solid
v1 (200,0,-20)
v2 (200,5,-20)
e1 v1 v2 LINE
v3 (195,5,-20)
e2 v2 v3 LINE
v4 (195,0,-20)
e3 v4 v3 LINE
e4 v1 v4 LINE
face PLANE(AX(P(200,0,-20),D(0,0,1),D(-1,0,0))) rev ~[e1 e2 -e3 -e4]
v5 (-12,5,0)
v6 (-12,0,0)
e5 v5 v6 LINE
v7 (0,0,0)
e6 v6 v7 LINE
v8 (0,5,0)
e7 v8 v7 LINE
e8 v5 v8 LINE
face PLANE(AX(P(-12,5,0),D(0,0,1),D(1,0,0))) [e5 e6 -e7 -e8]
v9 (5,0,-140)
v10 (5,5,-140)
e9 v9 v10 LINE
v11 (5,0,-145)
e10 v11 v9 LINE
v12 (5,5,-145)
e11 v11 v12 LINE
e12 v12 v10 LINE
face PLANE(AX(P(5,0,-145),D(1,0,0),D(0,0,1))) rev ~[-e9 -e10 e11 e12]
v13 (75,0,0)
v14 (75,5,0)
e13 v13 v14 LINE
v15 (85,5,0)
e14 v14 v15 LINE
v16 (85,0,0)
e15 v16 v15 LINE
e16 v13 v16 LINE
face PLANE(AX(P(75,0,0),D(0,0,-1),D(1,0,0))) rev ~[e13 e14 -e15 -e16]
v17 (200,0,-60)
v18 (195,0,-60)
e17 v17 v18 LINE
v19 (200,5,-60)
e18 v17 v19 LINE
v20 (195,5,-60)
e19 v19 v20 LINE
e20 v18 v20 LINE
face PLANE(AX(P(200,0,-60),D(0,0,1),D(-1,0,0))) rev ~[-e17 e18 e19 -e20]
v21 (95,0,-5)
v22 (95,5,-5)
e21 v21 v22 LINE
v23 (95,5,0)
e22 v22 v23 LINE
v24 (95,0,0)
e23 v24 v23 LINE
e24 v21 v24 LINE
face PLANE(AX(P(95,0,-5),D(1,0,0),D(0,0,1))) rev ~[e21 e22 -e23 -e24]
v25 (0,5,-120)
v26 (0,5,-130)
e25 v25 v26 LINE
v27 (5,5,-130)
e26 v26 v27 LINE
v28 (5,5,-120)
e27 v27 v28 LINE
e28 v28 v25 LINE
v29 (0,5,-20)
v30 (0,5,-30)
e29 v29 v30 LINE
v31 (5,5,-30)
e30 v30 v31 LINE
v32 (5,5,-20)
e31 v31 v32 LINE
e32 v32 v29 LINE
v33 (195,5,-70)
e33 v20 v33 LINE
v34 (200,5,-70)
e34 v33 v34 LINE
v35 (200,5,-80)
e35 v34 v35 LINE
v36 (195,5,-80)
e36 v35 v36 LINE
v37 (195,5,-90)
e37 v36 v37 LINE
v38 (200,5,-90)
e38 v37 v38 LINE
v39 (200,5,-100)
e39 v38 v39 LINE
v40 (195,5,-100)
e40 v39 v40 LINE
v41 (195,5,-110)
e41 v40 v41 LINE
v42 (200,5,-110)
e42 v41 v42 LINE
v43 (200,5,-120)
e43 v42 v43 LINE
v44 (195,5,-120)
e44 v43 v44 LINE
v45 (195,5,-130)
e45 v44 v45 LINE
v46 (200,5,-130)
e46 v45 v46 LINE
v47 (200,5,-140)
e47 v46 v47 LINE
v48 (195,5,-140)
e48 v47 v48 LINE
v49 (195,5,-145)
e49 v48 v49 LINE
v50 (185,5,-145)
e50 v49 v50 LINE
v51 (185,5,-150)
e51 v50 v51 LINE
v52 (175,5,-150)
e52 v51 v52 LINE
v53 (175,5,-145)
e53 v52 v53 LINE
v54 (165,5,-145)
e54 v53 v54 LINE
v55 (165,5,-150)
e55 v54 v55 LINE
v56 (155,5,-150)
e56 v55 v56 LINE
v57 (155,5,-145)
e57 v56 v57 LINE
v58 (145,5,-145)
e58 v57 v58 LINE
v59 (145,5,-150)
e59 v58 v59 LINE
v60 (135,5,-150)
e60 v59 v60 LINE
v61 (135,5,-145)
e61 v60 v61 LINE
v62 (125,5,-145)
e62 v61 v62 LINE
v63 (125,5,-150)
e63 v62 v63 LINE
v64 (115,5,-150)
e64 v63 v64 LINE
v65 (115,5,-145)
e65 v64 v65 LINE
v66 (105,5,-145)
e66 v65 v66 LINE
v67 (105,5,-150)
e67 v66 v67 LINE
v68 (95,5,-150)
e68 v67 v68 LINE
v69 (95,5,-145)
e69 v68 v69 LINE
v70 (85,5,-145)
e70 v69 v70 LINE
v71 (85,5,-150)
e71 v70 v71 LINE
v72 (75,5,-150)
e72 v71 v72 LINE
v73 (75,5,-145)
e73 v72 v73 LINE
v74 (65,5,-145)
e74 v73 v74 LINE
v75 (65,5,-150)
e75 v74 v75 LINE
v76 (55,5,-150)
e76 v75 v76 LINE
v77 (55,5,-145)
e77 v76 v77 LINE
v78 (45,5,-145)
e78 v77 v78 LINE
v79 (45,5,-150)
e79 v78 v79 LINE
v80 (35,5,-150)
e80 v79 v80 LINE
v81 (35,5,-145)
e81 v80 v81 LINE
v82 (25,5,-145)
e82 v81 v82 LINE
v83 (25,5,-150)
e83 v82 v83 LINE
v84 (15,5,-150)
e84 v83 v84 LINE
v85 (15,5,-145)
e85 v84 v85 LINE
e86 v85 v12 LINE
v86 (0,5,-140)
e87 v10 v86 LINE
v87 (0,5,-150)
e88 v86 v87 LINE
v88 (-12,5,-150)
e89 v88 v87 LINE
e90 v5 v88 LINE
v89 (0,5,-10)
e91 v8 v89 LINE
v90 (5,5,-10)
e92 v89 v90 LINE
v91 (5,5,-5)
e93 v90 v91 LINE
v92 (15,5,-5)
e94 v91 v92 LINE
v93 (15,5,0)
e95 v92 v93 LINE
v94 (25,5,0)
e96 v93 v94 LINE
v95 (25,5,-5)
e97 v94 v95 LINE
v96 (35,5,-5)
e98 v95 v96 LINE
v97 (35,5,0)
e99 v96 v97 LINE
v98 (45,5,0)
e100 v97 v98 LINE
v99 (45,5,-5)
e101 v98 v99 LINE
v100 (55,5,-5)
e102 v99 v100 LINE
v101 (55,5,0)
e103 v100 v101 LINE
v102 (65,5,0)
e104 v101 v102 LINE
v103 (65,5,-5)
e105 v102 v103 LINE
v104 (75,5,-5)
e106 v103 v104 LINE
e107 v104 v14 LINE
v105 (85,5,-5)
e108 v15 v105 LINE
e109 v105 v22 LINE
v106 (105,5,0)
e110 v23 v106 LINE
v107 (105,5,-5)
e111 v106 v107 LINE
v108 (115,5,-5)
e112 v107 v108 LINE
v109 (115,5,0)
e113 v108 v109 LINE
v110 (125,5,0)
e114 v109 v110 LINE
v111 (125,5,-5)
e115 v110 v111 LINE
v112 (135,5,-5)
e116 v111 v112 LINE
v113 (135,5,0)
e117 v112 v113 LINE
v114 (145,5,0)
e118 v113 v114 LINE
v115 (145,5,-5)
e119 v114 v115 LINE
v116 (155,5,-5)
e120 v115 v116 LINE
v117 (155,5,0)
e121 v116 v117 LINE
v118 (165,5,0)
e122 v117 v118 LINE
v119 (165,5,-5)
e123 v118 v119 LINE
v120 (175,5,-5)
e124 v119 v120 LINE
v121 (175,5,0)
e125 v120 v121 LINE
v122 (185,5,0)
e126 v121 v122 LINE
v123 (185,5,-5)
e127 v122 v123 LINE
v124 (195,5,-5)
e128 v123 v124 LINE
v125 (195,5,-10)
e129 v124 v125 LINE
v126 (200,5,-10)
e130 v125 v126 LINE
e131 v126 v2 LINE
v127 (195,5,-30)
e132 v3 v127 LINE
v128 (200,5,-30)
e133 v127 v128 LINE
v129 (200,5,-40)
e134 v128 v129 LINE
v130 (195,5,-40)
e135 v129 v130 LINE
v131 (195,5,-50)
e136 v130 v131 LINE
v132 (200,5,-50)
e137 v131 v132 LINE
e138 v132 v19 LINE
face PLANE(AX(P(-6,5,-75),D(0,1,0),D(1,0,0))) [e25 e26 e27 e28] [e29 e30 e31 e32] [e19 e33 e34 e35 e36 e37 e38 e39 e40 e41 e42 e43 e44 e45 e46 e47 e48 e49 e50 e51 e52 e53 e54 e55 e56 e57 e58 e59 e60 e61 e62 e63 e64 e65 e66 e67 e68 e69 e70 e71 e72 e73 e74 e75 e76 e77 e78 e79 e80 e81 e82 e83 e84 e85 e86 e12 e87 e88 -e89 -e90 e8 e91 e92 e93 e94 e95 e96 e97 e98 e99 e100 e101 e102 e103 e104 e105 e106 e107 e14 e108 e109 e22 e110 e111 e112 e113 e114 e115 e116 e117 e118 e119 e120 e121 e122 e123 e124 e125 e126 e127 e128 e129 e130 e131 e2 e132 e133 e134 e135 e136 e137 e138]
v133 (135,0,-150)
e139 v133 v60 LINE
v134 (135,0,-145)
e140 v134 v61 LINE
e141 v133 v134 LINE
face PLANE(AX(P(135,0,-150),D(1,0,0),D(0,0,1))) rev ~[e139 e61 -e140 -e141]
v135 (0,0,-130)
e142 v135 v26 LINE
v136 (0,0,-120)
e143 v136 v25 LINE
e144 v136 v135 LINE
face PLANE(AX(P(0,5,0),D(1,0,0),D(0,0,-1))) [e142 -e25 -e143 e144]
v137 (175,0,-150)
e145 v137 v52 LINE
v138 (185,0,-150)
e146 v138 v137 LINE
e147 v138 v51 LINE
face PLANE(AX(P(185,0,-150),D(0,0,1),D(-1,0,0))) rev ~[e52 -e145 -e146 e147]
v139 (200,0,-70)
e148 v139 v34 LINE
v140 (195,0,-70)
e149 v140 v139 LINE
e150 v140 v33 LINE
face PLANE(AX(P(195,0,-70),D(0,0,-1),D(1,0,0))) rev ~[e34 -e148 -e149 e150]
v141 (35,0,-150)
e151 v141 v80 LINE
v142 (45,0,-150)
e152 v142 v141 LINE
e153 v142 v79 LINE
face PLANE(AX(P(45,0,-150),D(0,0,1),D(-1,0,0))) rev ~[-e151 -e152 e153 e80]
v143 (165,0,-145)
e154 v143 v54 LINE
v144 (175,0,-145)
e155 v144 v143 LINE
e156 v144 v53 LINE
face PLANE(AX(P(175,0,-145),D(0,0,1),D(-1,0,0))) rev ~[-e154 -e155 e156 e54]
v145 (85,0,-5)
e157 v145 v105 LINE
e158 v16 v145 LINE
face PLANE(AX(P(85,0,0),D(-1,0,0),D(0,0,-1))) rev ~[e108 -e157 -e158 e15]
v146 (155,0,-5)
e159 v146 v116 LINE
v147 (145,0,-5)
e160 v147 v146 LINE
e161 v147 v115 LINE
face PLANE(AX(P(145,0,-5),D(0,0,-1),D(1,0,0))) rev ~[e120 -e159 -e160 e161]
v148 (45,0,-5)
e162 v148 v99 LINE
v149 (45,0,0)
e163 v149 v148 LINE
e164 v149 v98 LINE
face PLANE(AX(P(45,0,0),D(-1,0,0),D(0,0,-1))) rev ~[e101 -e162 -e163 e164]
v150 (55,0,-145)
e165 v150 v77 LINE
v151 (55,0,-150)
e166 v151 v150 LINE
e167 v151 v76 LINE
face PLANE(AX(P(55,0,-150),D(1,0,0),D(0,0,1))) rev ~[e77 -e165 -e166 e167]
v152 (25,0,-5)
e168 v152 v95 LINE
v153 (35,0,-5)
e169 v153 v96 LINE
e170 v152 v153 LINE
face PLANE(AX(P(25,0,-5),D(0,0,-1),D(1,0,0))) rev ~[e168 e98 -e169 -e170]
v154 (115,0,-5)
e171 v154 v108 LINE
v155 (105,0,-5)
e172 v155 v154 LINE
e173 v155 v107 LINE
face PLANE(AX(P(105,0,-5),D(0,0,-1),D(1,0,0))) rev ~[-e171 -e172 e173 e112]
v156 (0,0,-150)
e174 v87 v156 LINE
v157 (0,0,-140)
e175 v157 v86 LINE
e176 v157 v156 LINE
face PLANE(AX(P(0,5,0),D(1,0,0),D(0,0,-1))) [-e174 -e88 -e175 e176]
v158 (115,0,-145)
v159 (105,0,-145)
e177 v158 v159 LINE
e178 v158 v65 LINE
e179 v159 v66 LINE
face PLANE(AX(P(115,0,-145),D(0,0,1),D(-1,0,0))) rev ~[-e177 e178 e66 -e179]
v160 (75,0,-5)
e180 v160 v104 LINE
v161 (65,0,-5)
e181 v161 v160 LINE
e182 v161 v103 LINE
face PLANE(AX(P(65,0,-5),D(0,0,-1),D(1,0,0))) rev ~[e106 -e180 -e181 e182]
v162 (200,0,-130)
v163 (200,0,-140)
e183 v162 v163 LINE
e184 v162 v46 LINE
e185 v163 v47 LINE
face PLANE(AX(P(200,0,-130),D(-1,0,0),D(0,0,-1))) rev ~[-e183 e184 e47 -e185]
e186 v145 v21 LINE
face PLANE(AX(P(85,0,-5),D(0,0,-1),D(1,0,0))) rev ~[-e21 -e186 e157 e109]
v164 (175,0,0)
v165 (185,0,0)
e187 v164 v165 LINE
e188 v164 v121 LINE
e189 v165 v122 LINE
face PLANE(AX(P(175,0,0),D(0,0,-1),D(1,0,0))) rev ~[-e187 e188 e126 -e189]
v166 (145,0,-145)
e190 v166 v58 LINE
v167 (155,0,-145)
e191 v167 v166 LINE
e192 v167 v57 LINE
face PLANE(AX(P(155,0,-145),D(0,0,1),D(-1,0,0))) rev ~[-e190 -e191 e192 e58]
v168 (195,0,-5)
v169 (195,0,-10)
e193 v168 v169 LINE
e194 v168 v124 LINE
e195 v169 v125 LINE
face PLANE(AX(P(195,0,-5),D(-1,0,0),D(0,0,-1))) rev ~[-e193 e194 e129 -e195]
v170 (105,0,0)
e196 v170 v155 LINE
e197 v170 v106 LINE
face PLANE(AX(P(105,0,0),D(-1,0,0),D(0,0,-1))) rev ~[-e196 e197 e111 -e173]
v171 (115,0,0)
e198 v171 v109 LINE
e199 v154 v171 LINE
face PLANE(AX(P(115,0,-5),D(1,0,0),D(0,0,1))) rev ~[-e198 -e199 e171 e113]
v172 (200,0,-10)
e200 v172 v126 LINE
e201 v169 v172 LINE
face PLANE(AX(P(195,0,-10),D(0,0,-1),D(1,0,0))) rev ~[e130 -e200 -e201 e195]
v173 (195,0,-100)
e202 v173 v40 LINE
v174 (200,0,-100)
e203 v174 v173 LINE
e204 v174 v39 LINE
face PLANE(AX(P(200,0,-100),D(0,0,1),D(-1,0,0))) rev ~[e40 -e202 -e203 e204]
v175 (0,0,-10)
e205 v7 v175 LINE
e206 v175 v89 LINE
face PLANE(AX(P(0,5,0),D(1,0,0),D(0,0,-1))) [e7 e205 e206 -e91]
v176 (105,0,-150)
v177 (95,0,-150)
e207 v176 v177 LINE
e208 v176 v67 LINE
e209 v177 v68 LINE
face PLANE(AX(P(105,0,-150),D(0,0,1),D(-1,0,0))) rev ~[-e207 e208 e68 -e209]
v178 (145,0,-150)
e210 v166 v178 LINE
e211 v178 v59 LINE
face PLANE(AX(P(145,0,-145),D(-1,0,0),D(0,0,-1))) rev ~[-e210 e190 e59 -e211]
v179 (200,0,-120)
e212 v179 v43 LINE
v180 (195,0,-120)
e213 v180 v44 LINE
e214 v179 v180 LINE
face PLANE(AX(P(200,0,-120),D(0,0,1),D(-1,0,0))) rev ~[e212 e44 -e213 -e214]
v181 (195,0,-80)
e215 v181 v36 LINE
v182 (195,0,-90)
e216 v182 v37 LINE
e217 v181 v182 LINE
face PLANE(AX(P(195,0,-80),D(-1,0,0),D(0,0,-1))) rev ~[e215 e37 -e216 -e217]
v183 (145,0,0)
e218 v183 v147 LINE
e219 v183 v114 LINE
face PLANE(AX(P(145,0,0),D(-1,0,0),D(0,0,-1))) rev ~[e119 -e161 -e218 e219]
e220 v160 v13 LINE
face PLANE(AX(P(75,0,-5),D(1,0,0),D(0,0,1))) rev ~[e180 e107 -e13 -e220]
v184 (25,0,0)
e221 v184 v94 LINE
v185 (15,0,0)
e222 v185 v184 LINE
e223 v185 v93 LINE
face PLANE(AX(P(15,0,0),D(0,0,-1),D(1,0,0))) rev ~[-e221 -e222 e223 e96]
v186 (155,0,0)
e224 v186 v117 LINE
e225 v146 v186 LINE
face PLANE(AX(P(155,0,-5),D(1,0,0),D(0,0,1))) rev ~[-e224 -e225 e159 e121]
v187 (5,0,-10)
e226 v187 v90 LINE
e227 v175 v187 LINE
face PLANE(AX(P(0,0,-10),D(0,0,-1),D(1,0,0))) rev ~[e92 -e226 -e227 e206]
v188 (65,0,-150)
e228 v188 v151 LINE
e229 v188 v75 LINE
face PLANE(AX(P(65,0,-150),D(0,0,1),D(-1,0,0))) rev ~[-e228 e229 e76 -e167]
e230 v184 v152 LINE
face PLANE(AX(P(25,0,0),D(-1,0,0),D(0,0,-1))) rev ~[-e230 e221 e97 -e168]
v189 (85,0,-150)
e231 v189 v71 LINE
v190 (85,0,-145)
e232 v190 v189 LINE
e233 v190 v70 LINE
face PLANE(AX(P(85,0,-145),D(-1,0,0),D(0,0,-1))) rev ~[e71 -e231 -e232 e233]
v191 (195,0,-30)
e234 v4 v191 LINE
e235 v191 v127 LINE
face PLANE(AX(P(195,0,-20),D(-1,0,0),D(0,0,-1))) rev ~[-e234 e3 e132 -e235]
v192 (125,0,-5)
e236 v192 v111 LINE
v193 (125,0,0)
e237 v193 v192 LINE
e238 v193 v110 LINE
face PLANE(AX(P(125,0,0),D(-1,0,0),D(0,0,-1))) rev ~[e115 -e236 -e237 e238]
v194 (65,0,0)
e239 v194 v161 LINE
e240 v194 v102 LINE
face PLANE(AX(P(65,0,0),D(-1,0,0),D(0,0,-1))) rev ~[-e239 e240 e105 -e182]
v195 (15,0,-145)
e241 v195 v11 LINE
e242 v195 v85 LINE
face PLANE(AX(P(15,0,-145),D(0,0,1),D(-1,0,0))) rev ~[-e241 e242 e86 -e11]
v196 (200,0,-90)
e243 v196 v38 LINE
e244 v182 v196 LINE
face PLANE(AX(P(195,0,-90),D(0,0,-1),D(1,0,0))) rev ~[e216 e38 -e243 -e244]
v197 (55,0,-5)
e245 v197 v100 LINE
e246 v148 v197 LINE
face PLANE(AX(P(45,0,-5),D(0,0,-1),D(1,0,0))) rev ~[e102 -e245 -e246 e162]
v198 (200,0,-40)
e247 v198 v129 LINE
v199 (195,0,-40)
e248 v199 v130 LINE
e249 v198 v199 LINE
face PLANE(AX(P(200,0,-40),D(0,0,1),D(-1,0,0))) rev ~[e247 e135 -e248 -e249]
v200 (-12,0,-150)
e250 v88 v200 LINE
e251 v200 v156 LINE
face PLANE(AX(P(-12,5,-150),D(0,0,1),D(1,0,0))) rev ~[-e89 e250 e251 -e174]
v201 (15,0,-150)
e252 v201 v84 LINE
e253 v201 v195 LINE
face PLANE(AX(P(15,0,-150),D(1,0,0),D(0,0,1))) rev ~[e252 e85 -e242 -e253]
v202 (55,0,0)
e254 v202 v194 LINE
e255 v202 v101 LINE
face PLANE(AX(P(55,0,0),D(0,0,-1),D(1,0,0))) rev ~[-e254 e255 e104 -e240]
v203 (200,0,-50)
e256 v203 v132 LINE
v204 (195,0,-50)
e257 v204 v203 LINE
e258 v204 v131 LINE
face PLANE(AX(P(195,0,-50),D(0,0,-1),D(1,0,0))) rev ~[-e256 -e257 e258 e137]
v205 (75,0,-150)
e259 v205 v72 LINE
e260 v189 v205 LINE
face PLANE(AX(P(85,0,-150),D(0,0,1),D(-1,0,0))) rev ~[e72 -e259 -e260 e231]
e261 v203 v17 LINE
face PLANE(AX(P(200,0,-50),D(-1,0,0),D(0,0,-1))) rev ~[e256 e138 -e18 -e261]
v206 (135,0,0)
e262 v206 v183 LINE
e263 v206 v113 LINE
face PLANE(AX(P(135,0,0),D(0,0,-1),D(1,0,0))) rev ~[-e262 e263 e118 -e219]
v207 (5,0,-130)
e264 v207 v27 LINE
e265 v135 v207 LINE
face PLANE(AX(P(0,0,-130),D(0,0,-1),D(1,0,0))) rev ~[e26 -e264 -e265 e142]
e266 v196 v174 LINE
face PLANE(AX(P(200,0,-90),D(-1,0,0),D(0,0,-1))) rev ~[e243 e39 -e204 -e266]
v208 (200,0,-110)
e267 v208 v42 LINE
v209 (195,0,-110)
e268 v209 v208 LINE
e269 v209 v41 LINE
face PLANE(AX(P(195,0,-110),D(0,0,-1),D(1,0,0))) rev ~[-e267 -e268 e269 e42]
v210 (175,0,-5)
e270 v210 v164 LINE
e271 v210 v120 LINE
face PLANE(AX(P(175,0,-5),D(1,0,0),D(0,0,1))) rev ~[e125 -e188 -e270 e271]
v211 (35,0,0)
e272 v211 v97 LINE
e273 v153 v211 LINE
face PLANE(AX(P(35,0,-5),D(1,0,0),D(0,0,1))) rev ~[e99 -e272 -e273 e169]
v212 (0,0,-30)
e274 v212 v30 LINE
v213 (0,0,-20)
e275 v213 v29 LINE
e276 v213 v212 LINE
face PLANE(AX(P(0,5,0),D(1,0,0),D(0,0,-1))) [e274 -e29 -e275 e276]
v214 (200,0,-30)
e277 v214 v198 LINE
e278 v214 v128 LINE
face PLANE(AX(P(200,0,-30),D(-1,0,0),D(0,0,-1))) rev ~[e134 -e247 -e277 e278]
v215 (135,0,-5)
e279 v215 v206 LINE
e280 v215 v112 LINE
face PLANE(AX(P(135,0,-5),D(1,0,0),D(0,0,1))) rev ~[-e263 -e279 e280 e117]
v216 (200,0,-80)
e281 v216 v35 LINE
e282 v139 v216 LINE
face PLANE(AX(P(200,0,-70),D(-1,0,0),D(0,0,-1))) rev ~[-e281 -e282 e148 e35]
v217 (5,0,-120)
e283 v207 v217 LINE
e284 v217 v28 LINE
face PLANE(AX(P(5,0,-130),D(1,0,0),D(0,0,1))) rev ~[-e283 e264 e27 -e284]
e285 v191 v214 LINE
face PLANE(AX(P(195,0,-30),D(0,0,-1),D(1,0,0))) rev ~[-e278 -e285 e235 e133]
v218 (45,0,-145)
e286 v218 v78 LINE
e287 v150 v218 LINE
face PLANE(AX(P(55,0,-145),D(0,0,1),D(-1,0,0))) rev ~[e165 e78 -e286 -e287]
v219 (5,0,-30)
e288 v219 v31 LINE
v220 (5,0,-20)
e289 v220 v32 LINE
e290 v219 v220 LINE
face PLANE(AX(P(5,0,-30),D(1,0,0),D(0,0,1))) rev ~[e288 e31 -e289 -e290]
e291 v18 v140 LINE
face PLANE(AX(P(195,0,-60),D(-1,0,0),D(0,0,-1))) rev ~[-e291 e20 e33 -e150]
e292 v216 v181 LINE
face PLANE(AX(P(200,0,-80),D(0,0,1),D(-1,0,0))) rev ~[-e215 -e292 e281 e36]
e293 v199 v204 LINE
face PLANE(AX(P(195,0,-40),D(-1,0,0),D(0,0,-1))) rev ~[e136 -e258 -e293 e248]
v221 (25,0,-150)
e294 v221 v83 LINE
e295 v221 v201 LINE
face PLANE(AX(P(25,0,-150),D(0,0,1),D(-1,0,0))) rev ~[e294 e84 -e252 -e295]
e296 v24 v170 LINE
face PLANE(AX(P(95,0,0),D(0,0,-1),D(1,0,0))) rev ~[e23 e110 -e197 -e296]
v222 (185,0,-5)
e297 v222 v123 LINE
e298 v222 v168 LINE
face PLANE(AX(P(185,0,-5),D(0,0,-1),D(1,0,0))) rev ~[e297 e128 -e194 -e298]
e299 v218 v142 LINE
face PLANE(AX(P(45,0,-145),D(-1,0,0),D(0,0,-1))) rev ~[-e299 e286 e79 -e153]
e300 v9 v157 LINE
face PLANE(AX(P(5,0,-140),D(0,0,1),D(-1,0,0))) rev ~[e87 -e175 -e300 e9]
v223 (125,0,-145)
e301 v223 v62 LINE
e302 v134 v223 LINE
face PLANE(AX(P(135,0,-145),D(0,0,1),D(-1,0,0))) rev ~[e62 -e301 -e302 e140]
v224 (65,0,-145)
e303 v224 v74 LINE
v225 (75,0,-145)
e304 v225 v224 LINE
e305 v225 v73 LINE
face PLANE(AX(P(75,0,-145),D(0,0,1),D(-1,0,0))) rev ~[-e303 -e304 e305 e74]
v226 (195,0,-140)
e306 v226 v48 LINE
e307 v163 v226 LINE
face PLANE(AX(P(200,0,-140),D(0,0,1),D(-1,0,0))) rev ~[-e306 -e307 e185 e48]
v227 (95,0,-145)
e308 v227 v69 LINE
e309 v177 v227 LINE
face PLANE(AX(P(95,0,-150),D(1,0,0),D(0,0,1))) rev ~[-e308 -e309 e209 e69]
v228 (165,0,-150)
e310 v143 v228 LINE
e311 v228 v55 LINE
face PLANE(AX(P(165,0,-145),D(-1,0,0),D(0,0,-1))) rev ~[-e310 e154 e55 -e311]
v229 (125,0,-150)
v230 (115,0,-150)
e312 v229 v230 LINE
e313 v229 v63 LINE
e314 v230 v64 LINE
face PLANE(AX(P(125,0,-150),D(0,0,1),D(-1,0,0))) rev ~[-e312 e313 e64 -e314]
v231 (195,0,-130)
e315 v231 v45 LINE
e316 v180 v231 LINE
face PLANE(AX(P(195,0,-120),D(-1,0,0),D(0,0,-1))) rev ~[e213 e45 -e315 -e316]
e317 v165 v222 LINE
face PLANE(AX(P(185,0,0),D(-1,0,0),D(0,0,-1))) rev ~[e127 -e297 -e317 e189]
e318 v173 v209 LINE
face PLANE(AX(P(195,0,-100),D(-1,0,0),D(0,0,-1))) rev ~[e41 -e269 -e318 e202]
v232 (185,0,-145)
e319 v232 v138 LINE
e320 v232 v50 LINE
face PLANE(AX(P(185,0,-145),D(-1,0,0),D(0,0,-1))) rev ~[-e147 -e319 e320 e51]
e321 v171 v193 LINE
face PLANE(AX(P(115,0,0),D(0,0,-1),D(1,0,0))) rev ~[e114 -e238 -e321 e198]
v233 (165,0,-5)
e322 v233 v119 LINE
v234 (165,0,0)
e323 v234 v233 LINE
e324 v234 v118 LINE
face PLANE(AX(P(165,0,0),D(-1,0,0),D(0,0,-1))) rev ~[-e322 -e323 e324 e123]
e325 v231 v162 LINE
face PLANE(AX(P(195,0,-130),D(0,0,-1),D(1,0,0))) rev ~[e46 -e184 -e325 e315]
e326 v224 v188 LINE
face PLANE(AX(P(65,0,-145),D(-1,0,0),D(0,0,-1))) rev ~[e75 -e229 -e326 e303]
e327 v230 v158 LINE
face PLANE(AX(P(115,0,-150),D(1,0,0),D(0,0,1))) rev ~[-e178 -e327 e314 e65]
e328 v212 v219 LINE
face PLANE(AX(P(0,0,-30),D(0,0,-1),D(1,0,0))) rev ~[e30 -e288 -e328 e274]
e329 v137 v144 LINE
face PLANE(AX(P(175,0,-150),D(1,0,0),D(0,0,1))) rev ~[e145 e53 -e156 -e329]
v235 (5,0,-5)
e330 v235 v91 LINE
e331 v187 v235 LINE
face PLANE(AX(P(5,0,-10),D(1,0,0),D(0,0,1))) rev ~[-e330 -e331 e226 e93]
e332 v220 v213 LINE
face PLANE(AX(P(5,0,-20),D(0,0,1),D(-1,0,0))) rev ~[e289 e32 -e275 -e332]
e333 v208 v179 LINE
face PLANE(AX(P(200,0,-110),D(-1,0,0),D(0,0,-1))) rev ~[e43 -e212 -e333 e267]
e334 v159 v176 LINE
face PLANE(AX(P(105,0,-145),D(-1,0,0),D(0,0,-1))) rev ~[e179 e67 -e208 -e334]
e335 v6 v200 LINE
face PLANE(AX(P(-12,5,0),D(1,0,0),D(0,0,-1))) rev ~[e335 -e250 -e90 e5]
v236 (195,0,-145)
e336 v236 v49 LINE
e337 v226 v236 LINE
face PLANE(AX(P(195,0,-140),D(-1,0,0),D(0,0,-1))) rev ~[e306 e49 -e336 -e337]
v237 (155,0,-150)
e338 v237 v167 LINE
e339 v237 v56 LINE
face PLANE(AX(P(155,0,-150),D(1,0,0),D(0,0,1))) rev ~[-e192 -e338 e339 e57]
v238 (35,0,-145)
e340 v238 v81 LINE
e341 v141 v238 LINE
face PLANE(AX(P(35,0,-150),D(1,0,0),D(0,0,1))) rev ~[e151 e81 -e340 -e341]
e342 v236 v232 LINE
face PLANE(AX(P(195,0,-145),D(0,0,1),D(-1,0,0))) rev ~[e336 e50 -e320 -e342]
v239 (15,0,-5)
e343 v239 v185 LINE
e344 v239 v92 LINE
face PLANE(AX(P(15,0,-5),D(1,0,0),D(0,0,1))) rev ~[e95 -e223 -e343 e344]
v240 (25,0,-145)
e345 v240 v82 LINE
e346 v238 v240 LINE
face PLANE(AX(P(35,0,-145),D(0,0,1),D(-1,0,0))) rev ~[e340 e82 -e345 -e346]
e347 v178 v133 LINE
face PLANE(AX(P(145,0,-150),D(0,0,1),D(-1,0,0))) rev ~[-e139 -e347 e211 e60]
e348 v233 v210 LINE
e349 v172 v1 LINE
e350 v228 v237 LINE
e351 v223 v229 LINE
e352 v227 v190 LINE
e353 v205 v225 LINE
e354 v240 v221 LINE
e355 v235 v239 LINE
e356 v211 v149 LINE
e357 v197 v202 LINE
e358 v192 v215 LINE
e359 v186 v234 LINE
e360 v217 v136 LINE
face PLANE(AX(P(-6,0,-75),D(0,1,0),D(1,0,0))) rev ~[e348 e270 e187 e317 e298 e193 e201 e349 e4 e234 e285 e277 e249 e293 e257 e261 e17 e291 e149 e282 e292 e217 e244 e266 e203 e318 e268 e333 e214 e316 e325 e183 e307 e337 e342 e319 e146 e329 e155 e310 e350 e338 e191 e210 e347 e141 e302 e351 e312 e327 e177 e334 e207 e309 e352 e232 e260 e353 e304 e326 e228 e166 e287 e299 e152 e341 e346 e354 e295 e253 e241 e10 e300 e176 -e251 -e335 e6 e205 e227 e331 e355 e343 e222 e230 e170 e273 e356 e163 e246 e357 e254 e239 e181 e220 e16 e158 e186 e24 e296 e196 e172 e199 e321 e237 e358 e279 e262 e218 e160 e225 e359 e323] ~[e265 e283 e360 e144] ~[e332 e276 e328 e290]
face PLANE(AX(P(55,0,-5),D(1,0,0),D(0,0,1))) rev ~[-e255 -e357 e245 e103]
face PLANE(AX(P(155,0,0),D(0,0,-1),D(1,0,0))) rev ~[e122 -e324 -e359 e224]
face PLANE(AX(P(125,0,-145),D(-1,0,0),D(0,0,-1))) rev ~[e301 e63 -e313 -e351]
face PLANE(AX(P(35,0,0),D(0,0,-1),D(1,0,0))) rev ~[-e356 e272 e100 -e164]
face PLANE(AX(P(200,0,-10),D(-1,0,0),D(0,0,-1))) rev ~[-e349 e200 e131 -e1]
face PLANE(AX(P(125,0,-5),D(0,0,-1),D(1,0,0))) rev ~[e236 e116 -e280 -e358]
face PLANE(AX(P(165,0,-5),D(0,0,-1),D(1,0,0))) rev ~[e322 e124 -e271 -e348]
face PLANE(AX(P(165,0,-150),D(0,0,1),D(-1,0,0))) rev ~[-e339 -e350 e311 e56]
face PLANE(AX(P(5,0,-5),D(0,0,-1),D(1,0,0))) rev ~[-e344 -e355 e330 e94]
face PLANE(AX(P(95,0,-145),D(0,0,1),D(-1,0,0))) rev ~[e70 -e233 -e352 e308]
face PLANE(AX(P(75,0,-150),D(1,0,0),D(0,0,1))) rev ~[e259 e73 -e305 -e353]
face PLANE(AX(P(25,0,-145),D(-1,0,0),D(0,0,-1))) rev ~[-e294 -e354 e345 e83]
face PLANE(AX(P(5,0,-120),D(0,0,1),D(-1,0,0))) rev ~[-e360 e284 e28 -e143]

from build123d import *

# Parameters (mm, degrees)
SALIENTE_EXTRUIR1_DEPTH = 5
CROQUIS2_W              = 12
CROQUIS2_H              = 150
SALIENTE_EXTRUIR3_DEPTH = 5


with BuildPart() as part:
    # Croquis1 → Saliente-Extruir1 (new body)
    with BuildSketch(Plane(origin=(0, 0, 0), x_dir=(1, 0, 0), z_dir=(0, 1, 0))):
        Polygon((35, 0), (45, 0), (45, 5), (55, 5), (55, 0), (65, 0), (65, 5), (75, 5), (75, 0), (85, 0), (85, 5), (95, 5), (95, 0), (105, 0), (105, 5), (115, 5), (115, 0), (125, 0), (125, 5), (135, 5), (135, 0), (145, 0), (145, 5), (155, 5), (155, 0), (165, 0), (165, 5), (175, 5), (175, 0), (185, 0), (185, 5), (195, 5), (195, 10), (200, 10), (200, 20), (195, 20), (195, 30), (200, 30), (200, 40), (195, 40), (195, 50), (200, 50), (200, 60), (195, 60), (195, 70), (200, 70), (200, 80), (195, 80), (195, 90), (200, 90), (200, 100), (195, 100), (195, 110), (200, 110), (200, 120), (195, 120), (195, 130), (200, 130), (200, 140), (195, 140), (195, 145), (185, 145), (185, 150), (175, 150), (175, 145), (165, 145), (165, 150), (155, 150), (155, 145), (145, 145), (145, 150), (135, 150), (135, 145), (125, 145), (125, 150), (115, 150), (115, 145), (105, 145), (105, 150), (95, 150), (95, 145), (85, 145), (85, 150), (75, 150), (75, 145), (65, 145), (65, 150), (55, 150), (55, 145), (45, 145), (45, 150), (35, 150), (35, 145), (25, 145), (25, 150), (15, 150), (15, 145), (5, 145), (5, 140), (0, 140), (0, 130), (5, 130), (5, 120), (0, 120), (0, 30), (5, 30), (5, 20), (0, 20), (0, 10), (5, 10), (5, 5), (15, 5), (15, 0), (25, 0), (25, 5), (35, 5), align=None)
    extrude(amount=SALIENTE_EXTRUIR1_DEPTH)

    # Croquis2 → Saliente-Extruir3 (add)
    with BuildSketch(Plane(origin=(0, 5, 0), x_dir=(1, 0, 0), z_dir=(0, 1, 0))):
        with Locations((-6, 75)):
            Rectangle(CROQUIS2_W, CROQUIS2_H)
    extrude(amount=-SALIENTE_EXTRUIR3_DEPTH)


solid = part.part
